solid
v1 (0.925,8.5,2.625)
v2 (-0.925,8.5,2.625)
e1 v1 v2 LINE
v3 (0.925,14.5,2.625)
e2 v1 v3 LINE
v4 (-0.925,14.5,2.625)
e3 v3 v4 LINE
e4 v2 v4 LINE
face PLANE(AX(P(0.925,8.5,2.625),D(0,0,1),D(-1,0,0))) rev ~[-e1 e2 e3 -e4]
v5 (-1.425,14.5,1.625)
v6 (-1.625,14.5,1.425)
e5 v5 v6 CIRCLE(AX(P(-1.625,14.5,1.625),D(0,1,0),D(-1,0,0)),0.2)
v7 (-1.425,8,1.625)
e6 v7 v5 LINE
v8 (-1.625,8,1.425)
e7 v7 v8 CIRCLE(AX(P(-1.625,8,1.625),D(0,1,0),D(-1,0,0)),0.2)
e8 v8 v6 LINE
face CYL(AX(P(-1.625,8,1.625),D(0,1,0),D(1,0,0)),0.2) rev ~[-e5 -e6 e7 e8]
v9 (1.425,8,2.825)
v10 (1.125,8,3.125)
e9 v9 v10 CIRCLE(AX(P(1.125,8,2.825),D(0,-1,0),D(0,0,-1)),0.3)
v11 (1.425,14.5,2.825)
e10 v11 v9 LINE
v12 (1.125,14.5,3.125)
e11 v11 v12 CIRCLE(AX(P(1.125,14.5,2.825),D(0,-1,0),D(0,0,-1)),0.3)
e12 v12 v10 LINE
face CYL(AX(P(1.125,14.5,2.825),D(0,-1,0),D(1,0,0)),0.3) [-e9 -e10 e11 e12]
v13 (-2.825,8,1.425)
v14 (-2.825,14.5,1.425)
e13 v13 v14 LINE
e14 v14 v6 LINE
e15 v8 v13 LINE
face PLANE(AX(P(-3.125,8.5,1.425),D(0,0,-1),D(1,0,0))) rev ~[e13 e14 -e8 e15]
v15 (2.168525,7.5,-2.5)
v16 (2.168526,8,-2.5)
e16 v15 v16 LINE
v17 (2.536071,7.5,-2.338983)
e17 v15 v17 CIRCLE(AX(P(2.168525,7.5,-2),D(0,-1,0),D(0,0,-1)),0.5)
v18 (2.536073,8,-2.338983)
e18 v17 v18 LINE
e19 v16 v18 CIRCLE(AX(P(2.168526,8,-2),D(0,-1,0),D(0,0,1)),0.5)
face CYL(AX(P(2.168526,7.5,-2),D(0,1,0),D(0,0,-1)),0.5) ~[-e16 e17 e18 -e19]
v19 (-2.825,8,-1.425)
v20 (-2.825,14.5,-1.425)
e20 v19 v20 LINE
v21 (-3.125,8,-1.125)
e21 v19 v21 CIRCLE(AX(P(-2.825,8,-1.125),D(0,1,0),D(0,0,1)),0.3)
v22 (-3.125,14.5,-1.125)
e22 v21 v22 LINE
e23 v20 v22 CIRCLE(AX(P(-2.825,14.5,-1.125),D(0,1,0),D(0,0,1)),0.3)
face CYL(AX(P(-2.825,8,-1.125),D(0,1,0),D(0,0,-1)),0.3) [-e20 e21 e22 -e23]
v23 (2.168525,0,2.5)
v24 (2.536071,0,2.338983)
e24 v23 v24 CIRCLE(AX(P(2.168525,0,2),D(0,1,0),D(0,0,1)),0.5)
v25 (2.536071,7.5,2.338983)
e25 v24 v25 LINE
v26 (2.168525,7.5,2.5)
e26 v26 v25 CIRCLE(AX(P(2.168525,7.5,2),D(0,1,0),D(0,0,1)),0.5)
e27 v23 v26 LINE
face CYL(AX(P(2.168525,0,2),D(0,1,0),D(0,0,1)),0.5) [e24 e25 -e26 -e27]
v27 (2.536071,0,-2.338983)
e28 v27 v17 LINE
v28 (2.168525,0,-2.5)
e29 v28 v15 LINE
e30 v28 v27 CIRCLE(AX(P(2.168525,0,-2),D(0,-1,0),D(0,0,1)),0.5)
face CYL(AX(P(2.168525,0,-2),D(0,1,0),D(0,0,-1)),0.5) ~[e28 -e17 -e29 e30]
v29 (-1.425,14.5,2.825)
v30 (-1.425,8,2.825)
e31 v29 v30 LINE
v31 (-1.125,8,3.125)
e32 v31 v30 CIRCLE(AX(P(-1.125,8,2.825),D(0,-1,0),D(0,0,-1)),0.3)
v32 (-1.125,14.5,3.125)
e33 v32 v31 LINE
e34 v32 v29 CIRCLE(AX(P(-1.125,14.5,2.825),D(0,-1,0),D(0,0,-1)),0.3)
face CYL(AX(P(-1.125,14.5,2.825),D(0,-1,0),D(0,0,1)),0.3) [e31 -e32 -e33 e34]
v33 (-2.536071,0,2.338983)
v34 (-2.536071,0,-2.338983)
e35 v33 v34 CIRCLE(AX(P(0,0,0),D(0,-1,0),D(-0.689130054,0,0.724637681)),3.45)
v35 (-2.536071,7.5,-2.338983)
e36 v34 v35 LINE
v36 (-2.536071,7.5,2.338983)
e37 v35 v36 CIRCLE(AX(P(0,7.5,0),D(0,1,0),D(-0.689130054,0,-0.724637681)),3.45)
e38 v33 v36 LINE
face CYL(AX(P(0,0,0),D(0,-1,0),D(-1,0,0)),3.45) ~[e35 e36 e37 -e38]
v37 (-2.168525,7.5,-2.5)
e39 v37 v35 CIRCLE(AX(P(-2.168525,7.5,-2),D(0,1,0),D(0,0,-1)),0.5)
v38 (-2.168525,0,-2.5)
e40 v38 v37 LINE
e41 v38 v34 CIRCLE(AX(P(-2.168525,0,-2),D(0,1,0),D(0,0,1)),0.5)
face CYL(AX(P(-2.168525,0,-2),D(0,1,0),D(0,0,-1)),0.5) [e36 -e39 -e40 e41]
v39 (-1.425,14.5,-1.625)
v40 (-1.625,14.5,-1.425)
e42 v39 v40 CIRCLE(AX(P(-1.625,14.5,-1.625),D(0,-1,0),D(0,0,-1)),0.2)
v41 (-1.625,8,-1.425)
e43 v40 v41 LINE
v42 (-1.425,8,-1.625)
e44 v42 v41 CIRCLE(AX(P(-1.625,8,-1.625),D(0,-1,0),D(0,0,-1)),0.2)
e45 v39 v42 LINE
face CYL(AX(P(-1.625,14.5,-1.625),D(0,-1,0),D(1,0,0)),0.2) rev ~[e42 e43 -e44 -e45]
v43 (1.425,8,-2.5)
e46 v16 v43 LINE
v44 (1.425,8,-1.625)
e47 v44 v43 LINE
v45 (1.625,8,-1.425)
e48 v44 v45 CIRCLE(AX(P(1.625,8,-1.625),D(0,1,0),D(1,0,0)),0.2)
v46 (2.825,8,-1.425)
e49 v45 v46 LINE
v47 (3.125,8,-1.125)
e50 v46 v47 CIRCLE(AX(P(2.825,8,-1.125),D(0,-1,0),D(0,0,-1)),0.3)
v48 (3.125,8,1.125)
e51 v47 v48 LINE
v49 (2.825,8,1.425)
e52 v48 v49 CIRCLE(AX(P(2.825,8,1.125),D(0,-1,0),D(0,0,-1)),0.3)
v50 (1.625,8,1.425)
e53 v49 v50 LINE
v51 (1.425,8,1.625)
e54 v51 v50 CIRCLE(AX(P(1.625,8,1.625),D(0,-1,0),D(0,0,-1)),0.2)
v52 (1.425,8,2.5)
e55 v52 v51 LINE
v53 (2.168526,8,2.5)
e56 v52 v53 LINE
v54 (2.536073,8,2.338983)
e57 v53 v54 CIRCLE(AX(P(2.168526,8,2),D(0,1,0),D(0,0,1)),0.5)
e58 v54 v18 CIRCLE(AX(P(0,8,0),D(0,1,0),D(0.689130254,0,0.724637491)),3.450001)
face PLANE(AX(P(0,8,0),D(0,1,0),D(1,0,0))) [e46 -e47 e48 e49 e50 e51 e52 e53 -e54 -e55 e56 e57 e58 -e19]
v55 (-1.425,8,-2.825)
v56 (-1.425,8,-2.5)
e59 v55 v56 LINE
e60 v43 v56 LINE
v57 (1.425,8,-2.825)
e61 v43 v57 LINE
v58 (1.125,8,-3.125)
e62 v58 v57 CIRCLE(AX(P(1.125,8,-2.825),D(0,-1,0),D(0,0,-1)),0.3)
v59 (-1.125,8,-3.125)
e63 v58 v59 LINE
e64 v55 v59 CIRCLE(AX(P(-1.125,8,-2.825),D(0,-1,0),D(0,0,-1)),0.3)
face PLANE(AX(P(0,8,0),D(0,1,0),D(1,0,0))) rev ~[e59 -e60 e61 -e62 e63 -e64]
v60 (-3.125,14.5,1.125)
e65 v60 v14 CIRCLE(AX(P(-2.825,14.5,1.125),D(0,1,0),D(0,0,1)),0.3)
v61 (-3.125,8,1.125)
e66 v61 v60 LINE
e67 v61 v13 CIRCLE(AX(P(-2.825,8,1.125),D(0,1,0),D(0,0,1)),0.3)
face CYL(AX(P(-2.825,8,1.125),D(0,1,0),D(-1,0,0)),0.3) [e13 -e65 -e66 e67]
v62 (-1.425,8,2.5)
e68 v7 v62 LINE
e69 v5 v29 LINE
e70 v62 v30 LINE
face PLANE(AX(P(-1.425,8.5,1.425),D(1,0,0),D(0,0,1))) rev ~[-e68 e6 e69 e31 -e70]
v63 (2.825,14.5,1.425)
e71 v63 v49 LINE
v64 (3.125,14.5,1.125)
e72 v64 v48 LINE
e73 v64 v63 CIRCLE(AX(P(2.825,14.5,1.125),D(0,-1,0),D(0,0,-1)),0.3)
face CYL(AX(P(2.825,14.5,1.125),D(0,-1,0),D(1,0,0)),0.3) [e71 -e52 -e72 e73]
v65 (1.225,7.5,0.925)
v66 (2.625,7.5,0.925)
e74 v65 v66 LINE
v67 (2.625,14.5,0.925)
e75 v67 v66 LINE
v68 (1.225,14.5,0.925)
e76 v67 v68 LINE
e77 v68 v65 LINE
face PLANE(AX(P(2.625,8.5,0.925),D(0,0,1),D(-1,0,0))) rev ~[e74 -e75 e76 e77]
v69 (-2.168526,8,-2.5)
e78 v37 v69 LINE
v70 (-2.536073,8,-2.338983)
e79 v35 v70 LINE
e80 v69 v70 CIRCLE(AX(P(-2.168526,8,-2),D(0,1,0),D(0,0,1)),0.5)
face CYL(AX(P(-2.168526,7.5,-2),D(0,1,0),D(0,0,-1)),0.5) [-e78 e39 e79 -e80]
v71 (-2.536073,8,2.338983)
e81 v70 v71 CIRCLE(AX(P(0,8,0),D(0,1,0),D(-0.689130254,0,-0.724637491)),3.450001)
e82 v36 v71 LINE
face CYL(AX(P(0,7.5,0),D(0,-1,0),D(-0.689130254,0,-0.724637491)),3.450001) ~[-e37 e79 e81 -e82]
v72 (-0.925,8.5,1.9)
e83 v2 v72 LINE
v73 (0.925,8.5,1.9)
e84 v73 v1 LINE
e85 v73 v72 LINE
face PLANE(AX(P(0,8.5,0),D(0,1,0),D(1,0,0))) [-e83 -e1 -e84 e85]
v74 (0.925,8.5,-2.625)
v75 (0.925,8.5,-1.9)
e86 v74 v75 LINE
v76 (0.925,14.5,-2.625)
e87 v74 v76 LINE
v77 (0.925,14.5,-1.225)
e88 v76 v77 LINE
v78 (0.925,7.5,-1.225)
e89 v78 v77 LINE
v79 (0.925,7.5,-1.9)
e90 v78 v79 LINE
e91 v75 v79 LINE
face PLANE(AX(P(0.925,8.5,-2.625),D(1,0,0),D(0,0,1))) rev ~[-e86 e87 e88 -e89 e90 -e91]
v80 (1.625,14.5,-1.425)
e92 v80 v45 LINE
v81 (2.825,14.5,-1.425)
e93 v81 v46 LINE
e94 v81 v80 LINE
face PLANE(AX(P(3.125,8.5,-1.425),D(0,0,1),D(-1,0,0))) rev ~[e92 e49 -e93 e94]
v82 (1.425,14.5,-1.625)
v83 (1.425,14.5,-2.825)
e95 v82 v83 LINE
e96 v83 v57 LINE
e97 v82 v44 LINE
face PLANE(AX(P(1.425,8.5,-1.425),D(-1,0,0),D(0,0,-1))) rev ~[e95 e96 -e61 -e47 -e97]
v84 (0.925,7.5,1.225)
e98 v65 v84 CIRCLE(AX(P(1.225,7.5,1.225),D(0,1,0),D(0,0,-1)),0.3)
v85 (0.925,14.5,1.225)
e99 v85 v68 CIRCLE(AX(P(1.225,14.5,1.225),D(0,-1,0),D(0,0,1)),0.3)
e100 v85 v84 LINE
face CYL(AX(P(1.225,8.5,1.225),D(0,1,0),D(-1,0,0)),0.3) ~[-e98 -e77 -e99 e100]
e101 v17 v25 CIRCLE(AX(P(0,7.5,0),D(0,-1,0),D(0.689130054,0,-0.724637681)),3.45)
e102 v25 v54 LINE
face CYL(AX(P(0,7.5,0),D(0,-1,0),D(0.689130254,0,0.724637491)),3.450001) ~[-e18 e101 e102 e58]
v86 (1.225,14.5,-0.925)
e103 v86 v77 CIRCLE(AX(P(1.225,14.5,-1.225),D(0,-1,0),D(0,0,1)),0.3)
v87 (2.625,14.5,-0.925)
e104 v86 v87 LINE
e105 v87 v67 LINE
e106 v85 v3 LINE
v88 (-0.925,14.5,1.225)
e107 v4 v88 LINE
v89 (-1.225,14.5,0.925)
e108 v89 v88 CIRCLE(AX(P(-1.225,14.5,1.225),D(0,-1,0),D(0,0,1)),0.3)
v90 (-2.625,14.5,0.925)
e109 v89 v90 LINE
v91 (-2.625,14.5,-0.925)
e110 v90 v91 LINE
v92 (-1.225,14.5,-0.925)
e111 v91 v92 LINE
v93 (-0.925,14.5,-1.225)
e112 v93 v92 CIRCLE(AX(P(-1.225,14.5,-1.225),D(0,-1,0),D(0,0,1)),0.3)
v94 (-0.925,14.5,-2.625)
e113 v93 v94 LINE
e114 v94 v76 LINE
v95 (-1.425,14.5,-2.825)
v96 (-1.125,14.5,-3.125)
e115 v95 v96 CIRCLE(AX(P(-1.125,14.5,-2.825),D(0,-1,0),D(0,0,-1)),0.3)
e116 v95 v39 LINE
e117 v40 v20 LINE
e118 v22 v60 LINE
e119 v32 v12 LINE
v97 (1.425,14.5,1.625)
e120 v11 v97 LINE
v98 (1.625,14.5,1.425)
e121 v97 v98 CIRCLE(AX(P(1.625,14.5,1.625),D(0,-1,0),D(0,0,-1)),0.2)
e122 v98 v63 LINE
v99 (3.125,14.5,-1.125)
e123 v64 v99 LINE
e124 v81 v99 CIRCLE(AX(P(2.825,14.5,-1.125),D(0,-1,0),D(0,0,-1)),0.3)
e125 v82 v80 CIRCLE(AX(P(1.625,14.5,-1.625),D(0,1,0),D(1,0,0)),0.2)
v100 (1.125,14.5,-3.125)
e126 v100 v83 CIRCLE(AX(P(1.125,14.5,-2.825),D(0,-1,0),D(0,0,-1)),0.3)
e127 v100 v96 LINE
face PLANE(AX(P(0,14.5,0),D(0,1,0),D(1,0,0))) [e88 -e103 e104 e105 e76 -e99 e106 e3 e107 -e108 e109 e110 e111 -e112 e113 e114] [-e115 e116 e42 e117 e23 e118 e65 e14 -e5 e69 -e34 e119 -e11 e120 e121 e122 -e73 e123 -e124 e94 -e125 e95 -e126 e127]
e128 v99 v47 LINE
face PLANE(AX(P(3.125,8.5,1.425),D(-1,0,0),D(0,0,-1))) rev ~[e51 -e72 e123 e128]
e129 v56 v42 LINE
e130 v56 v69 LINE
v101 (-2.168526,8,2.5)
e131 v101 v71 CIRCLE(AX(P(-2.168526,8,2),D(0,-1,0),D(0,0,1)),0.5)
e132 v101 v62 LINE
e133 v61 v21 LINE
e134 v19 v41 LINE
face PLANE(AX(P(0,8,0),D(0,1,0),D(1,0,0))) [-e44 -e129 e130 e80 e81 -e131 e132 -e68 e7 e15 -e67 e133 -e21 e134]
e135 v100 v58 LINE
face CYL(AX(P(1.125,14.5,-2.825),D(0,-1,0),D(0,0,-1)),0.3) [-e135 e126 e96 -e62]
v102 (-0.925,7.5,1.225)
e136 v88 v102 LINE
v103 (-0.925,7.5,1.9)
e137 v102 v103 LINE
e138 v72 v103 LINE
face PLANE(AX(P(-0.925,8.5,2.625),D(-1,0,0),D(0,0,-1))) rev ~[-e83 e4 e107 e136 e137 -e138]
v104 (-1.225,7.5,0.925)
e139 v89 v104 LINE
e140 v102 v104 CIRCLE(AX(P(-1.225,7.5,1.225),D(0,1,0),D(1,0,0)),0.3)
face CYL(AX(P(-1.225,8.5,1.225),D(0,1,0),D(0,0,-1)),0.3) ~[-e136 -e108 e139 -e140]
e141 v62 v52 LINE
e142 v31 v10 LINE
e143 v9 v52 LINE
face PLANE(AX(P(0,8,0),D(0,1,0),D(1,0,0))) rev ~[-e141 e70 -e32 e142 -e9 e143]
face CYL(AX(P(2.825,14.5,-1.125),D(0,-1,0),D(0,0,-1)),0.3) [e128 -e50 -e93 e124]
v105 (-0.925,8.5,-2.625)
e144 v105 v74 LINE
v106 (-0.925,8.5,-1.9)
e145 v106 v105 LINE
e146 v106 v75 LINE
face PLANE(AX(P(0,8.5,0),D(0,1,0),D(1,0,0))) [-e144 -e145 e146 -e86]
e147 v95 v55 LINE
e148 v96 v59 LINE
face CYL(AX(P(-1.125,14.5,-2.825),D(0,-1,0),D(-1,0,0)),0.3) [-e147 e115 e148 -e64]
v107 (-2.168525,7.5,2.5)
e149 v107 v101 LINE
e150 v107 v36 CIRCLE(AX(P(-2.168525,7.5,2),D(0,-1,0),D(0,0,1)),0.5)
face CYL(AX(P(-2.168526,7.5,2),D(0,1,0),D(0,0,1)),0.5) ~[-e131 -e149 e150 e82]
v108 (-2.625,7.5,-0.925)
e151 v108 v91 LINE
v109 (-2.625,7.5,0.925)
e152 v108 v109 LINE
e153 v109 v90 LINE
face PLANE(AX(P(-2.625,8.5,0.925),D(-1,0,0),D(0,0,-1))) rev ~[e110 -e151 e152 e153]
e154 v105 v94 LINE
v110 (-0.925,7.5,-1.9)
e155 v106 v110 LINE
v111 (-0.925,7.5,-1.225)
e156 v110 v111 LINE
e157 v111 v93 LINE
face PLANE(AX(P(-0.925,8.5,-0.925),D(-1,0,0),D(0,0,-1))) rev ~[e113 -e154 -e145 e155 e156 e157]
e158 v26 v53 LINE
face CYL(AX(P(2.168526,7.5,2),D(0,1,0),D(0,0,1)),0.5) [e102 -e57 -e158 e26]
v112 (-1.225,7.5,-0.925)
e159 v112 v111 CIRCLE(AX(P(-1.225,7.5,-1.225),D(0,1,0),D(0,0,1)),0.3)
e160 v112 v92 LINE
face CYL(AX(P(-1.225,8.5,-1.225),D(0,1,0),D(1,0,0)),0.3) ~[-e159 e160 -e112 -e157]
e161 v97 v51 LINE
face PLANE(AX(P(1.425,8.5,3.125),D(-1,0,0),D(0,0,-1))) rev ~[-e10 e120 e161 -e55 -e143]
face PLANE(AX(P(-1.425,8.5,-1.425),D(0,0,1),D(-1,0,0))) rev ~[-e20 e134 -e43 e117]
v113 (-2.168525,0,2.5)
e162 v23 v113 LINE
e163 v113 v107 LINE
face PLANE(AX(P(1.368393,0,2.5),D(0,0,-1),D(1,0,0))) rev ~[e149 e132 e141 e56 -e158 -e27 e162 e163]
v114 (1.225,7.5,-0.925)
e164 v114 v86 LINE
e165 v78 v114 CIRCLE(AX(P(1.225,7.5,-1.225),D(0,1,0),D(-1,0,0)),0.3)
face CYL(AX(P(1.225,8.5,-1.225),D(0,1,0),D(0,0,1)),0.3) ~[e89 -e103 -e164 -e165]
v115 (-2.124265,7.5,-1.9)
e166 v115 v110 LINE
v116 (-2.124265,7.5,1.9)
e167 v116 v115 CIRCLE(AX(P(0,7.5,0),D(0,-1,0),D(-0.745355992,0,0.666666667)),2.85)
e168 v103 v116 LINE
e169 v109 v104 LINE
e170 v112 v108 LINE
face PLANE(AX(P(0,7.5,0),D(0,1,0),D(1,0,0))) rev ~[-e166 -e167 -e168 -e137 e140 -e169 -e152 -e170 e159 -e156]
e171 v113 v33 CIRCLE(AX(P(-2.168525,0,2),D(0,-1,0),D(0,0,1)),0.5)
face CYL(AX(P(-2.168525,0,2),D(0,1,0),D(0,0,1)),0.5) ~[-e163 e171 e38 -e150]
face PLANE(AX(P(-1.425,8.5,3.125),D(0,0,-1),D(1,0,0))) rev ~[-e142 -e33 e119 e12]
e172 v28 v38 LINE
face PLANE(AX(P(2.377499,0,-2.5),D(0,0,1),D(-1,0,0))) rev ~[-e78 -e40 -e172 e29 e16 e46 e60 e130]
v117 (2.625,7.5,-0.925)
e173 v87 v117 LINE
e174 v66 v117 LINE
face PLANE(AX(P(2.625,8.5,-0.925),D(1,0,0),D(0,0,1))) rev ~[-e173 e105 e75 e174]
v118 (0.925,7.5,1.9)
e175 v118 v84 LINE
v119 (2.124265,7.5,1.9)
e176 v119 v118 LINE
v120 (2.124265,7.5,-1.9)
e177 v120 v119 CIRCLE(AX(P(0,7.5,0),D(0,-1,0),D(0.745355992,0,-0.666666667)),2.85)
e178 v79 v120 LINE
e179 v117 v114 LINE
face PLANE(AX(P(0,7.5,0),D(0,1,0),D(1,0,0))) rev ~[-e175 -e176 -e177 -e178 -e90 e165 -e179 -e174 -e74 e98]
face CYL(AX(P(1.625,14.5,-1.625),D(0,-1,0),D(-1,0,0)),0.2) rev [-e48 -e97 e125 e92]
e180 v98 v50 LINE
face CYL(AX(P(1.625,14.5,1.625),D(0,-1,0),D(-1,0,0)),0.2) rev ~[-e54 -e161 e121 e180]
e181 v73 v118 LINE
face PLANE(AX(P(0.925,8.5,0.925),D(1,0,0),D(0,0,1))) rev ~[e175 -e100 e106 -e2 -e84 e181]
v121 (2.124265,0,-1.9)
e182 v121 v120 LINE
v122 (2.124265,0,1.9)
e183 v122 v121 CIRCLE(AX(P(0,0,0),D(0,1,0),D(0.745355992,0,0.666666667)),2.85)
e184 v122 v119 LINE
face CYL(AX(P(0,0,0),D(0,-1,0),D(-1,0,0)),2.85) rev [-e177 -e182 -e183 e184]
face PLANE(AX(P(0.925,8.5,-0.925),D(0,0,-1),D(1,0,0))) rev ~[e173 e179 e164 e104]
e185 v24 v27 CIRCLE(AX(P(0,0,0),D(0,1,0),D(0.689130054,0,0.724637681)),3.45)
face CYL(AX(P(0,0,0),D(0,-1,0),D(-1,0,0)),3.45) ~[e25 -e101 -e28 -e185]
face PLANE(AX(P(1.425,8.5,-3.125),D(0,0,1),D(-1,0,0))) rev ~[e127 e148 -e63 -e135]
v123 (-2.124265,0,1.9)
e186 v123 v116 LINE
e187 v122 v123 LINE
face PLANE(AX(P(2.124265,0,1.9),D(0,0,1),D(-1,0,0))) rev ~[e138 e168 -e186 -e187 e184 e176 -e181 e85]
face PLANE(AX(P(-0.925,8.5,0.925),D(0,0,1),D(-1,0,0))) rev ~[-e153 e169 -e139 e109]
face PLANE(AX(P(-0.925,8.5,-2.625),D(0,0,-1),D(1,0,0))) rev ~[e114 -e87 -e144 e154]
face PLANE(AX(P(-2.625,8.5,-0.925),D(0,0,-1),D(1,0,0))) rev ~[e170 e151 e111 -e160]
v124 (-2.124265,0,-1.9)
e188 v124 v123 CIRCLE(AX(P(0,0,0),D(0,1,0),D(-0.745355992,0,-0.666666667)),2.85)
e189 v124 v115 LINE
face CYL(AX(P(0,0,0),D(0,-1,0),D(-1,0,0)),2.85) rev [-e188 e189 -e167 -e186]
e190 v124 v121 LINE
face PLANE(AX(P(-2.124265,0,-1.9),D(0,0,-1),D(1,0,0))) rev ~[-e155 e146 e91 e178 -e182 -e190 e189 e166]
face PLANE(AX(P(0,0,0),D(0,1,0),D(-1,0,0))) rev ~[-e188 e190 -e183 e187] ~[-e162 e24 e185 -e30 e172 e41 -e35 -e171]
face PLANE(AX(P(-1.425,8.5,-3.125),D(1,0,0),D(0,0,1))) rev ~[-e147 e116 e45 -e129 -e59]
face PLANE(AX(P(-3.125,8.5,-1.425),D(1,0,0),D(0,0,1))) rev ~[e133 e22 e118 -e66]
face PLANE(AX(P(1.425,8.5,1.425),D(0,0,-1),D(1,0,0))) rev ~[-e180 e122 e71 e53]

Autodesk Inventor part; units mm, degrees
ref_plane "YZ Plane" through (0, 0, 0) normal (1, 0, 0) x (0, 1, 0)
ref_plane "XZ Plane" through (0, 0, 0) normal (0, 1, 0) x (-1, 0, 0)
ref_plane "XY Plane" through (0, 0, 0) normal (0, 0, 1) x (1, 0, 0)
sketch "Sketch1" plane through (0, 0, 0) normal (0, 1, 0) x (-1, 0, 0)
  line L0 (-2.85, 1.9) -> (2.85, 1.9)
  line L1 (2.85, 1.9) -> (2.85, -1.9)
  line L2 (2.85, -1.9) -> (-2.85, -1.9)
  line L3 (-2.85, -1.9) -> (-2.85, 1.9)
  line L4 (-2.85, 1.9) -> (2.85, -1.9) construction
  line L5 (2.85, 1.9) -> (-2.85, -1.9) construction
  line L6 (3.45, -2.5) -> (3.45, 2.5)
  line L7 (3.45, 2.5) -> (-3.45, 2.5)
  line L8 (-3.45, 2.5) -> (-3.45, -2.5)
  line L9 (-3.45, -2.5) -> (3.45, -2.5)
  circle A0 centre (0, 0) radius 2.85
  circle A1 centre (0, 0) radius 3.45
  point P0 (-2.1243, 1.9)
  point P1 (2.1243, 1.9)
  point P2 (2.1243, -1.9)
  point P3 (-2.1243, -1.9)
  point P4 (-2.3775, 2.5)
  point P5 (-2.3775, -2.5)
  point P6 (2.3775, -2.5)
  point P7 (2.3775, 2.5)
  dimension "d0" = 3.8
  dimension "d1" = 0.6
  dimension "d2" = 5.7
extrude "Extrusion1" add sketch "Sketch1" along normal blind 7.5 contours L3 L2 A0 L9 A1 L7 L0 | L0 A0 L3 | A0 L7 L0 | A0 L2 L3 | A0 L7 A1 L9 L2 L1 L0 | L0 L1 A0 | L2 A0 L9 | L1 L2 A0
sketch "Sketch2" plane through (0, 7.5, 0) normal (0, 1, 0) x (1, 0, 0)
  arc A0 (2.3775, -2.5) -> (2.3775, 2.5) centre (0, 0) ccw projected
  line L0 (2.3775, 2.5) -> (-2.3775, 2.5) projected
  arc A1 (-2.3775, 2.5) -> (-2.3775, -2.5) centre (0, 0) ccw projected
  line L1 (-2.3775, -2.5) -> (2.3775, -2.5) projected
  arc A2 (2.1243, -1.9) -> (2.1243, 1.9) centre (0, 0) ccw projected
  line L2 (2.1243, -1.9) -> (-2.1243, -1.9) projected
  arc A3 (-2.1243, 1.9) -> (-2.1243, -1.9) centre (0, 0) ccw projected
  line L3 (-2.1243, 1.9) -> (2.1243, 1.9) projected
extrude "Extrusion2" add sketch "Sketch2" along normal blind 0.5 contours L1 A1 L0 A0 | L2 A3 L3 A2
sketch "Sketch3" plane through (0, 8, 0) normal (0, 1, 0) x (1, 0, 0)
  line L0 (-0.925, -2.625) -> (-0.925, 2.625)
  line L1 (-0.925, 2.625) -> (0.925, 2.625)
  line L2 (0.925, 2.625) -> (0.925, -2.625)
  line L3 (0.925, -2.625) -> (-0.925, -2.625)
  line L4 (-0.925, -2.625) -> (0.925, 2.625) construction
  line L5 (-0.925, 2.625) -> (0.925, -2.625) construction
  line L6 (-2.625, -0.925) -> (2.625, -0.925)
  line L7 (2.625, -0.925) -> (2.625, 0.925)
  line L8 (2.625, 0.925) -> (-2.625, 0.925)
  line L9 (-2.625, 0.925) -> (-2.625, -0.925)
  line L10 (-2.625, -0.925) -> (2.625, 0.925) construction
  line L11 (2.625, -0.925) -> (-2.625, 0.925) construction
  line L12 (-3.125, 1.425) -> (3.125, 1.425)
  line L13 (3.125, 1.425) -> (3.125, -1.425)
  line L14 (3.125, -1.425) -> (-3.125, -1.425)
  line L15 (-3.125, -1.425) -> (-3.125, 1.425)
  line L16 (1.425, -3.125) -> (1.425, 3.125)
  line L17 (1.425, 3.125) -> (-1.425, 3.125)
  line L18 (-1.425, 3.125) -> (-1.425, -3.125)
  line L19 (-1.425, -3.125) -> (1.425, -3.125)
  point P0 (0, 0)
  point P1 (-1.425, -1.425)
  point P2 (1.425, -1.425)
  point P3 (1.425, 1.425)
  point P4 (-1.425, 1.425)
  dimension "d7" = 5.25
  dimension "d8" = 5.25
  dimension "d9" = 1.85
  dimension "d10" = 1.85
  dimension "d11" = 0.5
  dimension "d12" = 0.5
extrude "Extrusion3" add sketch "Sketch3" along normal blind 0.5
sketch "Sketch4" plane through (0, 8.5, 0) normal (0, 1, 0) x (1, 0, 0)
  line L0 (-3.125, 1.425) -> (-3.125, -1.425) projected
  line L1 (-3.125, -1.425) -> (-1.425, -1.425) projected
  line L2 (-1.425, -1.425) -> (-1.425, -3.125) projected
  line L3 (-1.425, -3.125) -> (1.425, -3.125) projected
  line L4 (1.425, -3.125) -> (1.425, -1.425) projected
  line L5 (1.425, -1.425) -> (3.125, -1.425) projected
  line L6 (3.125, -1.425) -> (3.125, 1.425) projected
  line L7 (3.125, 1.425) -> (1.425, 1.425) projected
  line L8 (1.425, 1.425) -> (1.425, 3.125) projected
  line L9 (1.425, 3.125) -> (-1.425, 3.125) projected
  line L10 (-1.425, 3.125) -> (-1.425, 1.425) projected
  line L11 (-1.425, 1.425) -> (-3.125, 1.425) projected
  line L12 (-2.625, -0.925) -> (-2.625, 0.925)
  line L13 (-2.625, 0.925) -> (-0.925, 0.925)
  line L14 (-0.925, 0.925) -> (-0.925, 2.625)
  line L15 (-0.925, 2.625) -> (0.925, 2.625)
  line L16 (0.925, 2.625) -> (0.925, 0.925)
  line L17 (0.925, 0.925) -> (2.625, 0.925)
  line L18 (2.625, 0.925) -> (2.625, -0.925)
  line L19 (2.625, -0.925) -> (0.925, -0.925)
  line L20 (0.925, -0.925) -> (0.925, -2.625)
  line L21 (0.925, -2.625) -> (-0.925, -2.625)
  line L22 (-0.925, -2.625) -> (-0.925, -0.925)
  line L23 (-0.925, -0.925) -> (-2.625, -0.925)
  point P0 (0, 0)
  dimension "d15" = 0.5
extrude "Extrusion4" add sketch "Sketch4" along normal blind 6
fillet "Fillet1" radius 0.3 8 edges at (1.425, 11.25, 3.125) (3.125, 11.25, 1.425) (3.125, 11.25, -1.425) (1.425, 11.25, -3.125) (-1.425, 11.25, -3.125) (-3.125, 11.25, -1.425) (-1.425, 11.25, 3.125) (-3.125, 11.25, 1.425)
fillet "Fillet2" radius 0.3 4 edges at (-0.925, 11.5, 0.925) (0.925, 11.5, 0.925) (0.925, 11.5, -0.925) (-0.925, 11.5, -0.925)
fillet "Fillet3" radius 0.5 4 edges at (2.3775, 4, -2.5) (-2.3775, 4, -2.5) (-2.3775, 4, 2.5) (2.3775, 4, 2.5)
sketch "Sketch5" plane through (0, 8.5, 0) normal (0, 1, 0) x (1, 0, 0)
  line L0 (2.625, 0.925) -> (1.225, 0.925) projected
  arc A0 (0.925, 1.225) -> (1.225, 0.925) centre (1.225, 1.225) ccw projected
  line L1 (0.925, 1.225) -> (0.925, 2.625) projected
  line L2 (0.925, 2.625) -> (-0.925, 2.625) projected
  line L3 (-0.925, 2.625) -> (-0.925, 1.225) projected
  arc A1 (-1.225, 0.925) -> (-0.925, 1.225) centre (-1.225, 1.225) ccw projected
  line L4 (-1.225, 0.925) -> (-2.625, 0.925) projected
  line L5 (-2.625, 0.925) -> (-2.625, -0.925) projected
  line L6 (-2.625, -0.925) -> (-1.225, -0.925) projected
  arc A2 (-0.925, -1.225) -> (-1.225, -0.925) centre (-1.225, -1.225) ccw projected
  line L7 (-0.925, -1.225) -> (-0.925, -2.625) projected
  line L8 (-0.925, -2.625) -> (0.925, -2.625) projected
  line L9 (0.925, -2.625) -> (0.925, -1.225) projected
  arc A3 (1.225, -0.925) -> (0.925, -1.225) centre (1.225, -1.225) ccw projected
  line L10 (1.225, -0.925) -> (2.625, -0.925) projected
  line L11 (2.625, -0.925) -> (2.625, 0.925) projected
  line L12 (-2.1243, 1.9) -> (2.1243, 1.9) projected
  arc A4 (2.1243, -1.9) -> (2.1243, 1.9) centre (0, 0) ccw projected
  line L13 (2.1243, -1.9) -> (-2.1243, -1.9) projected
  arc A5 (-2.1243, 1.9) -> (-2.1243, -1.9) centre (0, 0) ccw projected
  point P0 (2.5898, -0.925)
  point P1 (2.625, -0.8197)
  point P2 (2.625, 0.8197)
  point P3 (2.5898, 0.925)
  point P4 (0.925, 1.9)
  point P5 (-0.925, 1.9)
  point P6 (-2.5898, 0.925)
  point P7 (-2.625, 0.8197)
  point P8 (-2.625, -0.8197)
  point P9 (-2.5898, -0.925)
  point P10 (-0.925, -1.9)
  point P11 (0.925, -1.9)
extrude "Extrusion5" cut sketch "Sketch5" against normal up to surface (1 mm away) contours L11 L10 A3 L9 L13 L7 A2 L6 L5 L4 A1 L3 L12 L1 A0 L0
fillet "Fillet4" radius 0.2 4 edges at (-1.425, 11.25, 1.425) (1.425, 11.25, 1.425) (1.425, 11.25, -1.425) (-1.425, 11.25, -1.425)
equation "\"d8\" = d7"
equation "\"d10\" = d9"
equation "\"d12\" = d11"
equation "\"d15\" = d11"
properties part number "motor-lego-adapter-3-4"
